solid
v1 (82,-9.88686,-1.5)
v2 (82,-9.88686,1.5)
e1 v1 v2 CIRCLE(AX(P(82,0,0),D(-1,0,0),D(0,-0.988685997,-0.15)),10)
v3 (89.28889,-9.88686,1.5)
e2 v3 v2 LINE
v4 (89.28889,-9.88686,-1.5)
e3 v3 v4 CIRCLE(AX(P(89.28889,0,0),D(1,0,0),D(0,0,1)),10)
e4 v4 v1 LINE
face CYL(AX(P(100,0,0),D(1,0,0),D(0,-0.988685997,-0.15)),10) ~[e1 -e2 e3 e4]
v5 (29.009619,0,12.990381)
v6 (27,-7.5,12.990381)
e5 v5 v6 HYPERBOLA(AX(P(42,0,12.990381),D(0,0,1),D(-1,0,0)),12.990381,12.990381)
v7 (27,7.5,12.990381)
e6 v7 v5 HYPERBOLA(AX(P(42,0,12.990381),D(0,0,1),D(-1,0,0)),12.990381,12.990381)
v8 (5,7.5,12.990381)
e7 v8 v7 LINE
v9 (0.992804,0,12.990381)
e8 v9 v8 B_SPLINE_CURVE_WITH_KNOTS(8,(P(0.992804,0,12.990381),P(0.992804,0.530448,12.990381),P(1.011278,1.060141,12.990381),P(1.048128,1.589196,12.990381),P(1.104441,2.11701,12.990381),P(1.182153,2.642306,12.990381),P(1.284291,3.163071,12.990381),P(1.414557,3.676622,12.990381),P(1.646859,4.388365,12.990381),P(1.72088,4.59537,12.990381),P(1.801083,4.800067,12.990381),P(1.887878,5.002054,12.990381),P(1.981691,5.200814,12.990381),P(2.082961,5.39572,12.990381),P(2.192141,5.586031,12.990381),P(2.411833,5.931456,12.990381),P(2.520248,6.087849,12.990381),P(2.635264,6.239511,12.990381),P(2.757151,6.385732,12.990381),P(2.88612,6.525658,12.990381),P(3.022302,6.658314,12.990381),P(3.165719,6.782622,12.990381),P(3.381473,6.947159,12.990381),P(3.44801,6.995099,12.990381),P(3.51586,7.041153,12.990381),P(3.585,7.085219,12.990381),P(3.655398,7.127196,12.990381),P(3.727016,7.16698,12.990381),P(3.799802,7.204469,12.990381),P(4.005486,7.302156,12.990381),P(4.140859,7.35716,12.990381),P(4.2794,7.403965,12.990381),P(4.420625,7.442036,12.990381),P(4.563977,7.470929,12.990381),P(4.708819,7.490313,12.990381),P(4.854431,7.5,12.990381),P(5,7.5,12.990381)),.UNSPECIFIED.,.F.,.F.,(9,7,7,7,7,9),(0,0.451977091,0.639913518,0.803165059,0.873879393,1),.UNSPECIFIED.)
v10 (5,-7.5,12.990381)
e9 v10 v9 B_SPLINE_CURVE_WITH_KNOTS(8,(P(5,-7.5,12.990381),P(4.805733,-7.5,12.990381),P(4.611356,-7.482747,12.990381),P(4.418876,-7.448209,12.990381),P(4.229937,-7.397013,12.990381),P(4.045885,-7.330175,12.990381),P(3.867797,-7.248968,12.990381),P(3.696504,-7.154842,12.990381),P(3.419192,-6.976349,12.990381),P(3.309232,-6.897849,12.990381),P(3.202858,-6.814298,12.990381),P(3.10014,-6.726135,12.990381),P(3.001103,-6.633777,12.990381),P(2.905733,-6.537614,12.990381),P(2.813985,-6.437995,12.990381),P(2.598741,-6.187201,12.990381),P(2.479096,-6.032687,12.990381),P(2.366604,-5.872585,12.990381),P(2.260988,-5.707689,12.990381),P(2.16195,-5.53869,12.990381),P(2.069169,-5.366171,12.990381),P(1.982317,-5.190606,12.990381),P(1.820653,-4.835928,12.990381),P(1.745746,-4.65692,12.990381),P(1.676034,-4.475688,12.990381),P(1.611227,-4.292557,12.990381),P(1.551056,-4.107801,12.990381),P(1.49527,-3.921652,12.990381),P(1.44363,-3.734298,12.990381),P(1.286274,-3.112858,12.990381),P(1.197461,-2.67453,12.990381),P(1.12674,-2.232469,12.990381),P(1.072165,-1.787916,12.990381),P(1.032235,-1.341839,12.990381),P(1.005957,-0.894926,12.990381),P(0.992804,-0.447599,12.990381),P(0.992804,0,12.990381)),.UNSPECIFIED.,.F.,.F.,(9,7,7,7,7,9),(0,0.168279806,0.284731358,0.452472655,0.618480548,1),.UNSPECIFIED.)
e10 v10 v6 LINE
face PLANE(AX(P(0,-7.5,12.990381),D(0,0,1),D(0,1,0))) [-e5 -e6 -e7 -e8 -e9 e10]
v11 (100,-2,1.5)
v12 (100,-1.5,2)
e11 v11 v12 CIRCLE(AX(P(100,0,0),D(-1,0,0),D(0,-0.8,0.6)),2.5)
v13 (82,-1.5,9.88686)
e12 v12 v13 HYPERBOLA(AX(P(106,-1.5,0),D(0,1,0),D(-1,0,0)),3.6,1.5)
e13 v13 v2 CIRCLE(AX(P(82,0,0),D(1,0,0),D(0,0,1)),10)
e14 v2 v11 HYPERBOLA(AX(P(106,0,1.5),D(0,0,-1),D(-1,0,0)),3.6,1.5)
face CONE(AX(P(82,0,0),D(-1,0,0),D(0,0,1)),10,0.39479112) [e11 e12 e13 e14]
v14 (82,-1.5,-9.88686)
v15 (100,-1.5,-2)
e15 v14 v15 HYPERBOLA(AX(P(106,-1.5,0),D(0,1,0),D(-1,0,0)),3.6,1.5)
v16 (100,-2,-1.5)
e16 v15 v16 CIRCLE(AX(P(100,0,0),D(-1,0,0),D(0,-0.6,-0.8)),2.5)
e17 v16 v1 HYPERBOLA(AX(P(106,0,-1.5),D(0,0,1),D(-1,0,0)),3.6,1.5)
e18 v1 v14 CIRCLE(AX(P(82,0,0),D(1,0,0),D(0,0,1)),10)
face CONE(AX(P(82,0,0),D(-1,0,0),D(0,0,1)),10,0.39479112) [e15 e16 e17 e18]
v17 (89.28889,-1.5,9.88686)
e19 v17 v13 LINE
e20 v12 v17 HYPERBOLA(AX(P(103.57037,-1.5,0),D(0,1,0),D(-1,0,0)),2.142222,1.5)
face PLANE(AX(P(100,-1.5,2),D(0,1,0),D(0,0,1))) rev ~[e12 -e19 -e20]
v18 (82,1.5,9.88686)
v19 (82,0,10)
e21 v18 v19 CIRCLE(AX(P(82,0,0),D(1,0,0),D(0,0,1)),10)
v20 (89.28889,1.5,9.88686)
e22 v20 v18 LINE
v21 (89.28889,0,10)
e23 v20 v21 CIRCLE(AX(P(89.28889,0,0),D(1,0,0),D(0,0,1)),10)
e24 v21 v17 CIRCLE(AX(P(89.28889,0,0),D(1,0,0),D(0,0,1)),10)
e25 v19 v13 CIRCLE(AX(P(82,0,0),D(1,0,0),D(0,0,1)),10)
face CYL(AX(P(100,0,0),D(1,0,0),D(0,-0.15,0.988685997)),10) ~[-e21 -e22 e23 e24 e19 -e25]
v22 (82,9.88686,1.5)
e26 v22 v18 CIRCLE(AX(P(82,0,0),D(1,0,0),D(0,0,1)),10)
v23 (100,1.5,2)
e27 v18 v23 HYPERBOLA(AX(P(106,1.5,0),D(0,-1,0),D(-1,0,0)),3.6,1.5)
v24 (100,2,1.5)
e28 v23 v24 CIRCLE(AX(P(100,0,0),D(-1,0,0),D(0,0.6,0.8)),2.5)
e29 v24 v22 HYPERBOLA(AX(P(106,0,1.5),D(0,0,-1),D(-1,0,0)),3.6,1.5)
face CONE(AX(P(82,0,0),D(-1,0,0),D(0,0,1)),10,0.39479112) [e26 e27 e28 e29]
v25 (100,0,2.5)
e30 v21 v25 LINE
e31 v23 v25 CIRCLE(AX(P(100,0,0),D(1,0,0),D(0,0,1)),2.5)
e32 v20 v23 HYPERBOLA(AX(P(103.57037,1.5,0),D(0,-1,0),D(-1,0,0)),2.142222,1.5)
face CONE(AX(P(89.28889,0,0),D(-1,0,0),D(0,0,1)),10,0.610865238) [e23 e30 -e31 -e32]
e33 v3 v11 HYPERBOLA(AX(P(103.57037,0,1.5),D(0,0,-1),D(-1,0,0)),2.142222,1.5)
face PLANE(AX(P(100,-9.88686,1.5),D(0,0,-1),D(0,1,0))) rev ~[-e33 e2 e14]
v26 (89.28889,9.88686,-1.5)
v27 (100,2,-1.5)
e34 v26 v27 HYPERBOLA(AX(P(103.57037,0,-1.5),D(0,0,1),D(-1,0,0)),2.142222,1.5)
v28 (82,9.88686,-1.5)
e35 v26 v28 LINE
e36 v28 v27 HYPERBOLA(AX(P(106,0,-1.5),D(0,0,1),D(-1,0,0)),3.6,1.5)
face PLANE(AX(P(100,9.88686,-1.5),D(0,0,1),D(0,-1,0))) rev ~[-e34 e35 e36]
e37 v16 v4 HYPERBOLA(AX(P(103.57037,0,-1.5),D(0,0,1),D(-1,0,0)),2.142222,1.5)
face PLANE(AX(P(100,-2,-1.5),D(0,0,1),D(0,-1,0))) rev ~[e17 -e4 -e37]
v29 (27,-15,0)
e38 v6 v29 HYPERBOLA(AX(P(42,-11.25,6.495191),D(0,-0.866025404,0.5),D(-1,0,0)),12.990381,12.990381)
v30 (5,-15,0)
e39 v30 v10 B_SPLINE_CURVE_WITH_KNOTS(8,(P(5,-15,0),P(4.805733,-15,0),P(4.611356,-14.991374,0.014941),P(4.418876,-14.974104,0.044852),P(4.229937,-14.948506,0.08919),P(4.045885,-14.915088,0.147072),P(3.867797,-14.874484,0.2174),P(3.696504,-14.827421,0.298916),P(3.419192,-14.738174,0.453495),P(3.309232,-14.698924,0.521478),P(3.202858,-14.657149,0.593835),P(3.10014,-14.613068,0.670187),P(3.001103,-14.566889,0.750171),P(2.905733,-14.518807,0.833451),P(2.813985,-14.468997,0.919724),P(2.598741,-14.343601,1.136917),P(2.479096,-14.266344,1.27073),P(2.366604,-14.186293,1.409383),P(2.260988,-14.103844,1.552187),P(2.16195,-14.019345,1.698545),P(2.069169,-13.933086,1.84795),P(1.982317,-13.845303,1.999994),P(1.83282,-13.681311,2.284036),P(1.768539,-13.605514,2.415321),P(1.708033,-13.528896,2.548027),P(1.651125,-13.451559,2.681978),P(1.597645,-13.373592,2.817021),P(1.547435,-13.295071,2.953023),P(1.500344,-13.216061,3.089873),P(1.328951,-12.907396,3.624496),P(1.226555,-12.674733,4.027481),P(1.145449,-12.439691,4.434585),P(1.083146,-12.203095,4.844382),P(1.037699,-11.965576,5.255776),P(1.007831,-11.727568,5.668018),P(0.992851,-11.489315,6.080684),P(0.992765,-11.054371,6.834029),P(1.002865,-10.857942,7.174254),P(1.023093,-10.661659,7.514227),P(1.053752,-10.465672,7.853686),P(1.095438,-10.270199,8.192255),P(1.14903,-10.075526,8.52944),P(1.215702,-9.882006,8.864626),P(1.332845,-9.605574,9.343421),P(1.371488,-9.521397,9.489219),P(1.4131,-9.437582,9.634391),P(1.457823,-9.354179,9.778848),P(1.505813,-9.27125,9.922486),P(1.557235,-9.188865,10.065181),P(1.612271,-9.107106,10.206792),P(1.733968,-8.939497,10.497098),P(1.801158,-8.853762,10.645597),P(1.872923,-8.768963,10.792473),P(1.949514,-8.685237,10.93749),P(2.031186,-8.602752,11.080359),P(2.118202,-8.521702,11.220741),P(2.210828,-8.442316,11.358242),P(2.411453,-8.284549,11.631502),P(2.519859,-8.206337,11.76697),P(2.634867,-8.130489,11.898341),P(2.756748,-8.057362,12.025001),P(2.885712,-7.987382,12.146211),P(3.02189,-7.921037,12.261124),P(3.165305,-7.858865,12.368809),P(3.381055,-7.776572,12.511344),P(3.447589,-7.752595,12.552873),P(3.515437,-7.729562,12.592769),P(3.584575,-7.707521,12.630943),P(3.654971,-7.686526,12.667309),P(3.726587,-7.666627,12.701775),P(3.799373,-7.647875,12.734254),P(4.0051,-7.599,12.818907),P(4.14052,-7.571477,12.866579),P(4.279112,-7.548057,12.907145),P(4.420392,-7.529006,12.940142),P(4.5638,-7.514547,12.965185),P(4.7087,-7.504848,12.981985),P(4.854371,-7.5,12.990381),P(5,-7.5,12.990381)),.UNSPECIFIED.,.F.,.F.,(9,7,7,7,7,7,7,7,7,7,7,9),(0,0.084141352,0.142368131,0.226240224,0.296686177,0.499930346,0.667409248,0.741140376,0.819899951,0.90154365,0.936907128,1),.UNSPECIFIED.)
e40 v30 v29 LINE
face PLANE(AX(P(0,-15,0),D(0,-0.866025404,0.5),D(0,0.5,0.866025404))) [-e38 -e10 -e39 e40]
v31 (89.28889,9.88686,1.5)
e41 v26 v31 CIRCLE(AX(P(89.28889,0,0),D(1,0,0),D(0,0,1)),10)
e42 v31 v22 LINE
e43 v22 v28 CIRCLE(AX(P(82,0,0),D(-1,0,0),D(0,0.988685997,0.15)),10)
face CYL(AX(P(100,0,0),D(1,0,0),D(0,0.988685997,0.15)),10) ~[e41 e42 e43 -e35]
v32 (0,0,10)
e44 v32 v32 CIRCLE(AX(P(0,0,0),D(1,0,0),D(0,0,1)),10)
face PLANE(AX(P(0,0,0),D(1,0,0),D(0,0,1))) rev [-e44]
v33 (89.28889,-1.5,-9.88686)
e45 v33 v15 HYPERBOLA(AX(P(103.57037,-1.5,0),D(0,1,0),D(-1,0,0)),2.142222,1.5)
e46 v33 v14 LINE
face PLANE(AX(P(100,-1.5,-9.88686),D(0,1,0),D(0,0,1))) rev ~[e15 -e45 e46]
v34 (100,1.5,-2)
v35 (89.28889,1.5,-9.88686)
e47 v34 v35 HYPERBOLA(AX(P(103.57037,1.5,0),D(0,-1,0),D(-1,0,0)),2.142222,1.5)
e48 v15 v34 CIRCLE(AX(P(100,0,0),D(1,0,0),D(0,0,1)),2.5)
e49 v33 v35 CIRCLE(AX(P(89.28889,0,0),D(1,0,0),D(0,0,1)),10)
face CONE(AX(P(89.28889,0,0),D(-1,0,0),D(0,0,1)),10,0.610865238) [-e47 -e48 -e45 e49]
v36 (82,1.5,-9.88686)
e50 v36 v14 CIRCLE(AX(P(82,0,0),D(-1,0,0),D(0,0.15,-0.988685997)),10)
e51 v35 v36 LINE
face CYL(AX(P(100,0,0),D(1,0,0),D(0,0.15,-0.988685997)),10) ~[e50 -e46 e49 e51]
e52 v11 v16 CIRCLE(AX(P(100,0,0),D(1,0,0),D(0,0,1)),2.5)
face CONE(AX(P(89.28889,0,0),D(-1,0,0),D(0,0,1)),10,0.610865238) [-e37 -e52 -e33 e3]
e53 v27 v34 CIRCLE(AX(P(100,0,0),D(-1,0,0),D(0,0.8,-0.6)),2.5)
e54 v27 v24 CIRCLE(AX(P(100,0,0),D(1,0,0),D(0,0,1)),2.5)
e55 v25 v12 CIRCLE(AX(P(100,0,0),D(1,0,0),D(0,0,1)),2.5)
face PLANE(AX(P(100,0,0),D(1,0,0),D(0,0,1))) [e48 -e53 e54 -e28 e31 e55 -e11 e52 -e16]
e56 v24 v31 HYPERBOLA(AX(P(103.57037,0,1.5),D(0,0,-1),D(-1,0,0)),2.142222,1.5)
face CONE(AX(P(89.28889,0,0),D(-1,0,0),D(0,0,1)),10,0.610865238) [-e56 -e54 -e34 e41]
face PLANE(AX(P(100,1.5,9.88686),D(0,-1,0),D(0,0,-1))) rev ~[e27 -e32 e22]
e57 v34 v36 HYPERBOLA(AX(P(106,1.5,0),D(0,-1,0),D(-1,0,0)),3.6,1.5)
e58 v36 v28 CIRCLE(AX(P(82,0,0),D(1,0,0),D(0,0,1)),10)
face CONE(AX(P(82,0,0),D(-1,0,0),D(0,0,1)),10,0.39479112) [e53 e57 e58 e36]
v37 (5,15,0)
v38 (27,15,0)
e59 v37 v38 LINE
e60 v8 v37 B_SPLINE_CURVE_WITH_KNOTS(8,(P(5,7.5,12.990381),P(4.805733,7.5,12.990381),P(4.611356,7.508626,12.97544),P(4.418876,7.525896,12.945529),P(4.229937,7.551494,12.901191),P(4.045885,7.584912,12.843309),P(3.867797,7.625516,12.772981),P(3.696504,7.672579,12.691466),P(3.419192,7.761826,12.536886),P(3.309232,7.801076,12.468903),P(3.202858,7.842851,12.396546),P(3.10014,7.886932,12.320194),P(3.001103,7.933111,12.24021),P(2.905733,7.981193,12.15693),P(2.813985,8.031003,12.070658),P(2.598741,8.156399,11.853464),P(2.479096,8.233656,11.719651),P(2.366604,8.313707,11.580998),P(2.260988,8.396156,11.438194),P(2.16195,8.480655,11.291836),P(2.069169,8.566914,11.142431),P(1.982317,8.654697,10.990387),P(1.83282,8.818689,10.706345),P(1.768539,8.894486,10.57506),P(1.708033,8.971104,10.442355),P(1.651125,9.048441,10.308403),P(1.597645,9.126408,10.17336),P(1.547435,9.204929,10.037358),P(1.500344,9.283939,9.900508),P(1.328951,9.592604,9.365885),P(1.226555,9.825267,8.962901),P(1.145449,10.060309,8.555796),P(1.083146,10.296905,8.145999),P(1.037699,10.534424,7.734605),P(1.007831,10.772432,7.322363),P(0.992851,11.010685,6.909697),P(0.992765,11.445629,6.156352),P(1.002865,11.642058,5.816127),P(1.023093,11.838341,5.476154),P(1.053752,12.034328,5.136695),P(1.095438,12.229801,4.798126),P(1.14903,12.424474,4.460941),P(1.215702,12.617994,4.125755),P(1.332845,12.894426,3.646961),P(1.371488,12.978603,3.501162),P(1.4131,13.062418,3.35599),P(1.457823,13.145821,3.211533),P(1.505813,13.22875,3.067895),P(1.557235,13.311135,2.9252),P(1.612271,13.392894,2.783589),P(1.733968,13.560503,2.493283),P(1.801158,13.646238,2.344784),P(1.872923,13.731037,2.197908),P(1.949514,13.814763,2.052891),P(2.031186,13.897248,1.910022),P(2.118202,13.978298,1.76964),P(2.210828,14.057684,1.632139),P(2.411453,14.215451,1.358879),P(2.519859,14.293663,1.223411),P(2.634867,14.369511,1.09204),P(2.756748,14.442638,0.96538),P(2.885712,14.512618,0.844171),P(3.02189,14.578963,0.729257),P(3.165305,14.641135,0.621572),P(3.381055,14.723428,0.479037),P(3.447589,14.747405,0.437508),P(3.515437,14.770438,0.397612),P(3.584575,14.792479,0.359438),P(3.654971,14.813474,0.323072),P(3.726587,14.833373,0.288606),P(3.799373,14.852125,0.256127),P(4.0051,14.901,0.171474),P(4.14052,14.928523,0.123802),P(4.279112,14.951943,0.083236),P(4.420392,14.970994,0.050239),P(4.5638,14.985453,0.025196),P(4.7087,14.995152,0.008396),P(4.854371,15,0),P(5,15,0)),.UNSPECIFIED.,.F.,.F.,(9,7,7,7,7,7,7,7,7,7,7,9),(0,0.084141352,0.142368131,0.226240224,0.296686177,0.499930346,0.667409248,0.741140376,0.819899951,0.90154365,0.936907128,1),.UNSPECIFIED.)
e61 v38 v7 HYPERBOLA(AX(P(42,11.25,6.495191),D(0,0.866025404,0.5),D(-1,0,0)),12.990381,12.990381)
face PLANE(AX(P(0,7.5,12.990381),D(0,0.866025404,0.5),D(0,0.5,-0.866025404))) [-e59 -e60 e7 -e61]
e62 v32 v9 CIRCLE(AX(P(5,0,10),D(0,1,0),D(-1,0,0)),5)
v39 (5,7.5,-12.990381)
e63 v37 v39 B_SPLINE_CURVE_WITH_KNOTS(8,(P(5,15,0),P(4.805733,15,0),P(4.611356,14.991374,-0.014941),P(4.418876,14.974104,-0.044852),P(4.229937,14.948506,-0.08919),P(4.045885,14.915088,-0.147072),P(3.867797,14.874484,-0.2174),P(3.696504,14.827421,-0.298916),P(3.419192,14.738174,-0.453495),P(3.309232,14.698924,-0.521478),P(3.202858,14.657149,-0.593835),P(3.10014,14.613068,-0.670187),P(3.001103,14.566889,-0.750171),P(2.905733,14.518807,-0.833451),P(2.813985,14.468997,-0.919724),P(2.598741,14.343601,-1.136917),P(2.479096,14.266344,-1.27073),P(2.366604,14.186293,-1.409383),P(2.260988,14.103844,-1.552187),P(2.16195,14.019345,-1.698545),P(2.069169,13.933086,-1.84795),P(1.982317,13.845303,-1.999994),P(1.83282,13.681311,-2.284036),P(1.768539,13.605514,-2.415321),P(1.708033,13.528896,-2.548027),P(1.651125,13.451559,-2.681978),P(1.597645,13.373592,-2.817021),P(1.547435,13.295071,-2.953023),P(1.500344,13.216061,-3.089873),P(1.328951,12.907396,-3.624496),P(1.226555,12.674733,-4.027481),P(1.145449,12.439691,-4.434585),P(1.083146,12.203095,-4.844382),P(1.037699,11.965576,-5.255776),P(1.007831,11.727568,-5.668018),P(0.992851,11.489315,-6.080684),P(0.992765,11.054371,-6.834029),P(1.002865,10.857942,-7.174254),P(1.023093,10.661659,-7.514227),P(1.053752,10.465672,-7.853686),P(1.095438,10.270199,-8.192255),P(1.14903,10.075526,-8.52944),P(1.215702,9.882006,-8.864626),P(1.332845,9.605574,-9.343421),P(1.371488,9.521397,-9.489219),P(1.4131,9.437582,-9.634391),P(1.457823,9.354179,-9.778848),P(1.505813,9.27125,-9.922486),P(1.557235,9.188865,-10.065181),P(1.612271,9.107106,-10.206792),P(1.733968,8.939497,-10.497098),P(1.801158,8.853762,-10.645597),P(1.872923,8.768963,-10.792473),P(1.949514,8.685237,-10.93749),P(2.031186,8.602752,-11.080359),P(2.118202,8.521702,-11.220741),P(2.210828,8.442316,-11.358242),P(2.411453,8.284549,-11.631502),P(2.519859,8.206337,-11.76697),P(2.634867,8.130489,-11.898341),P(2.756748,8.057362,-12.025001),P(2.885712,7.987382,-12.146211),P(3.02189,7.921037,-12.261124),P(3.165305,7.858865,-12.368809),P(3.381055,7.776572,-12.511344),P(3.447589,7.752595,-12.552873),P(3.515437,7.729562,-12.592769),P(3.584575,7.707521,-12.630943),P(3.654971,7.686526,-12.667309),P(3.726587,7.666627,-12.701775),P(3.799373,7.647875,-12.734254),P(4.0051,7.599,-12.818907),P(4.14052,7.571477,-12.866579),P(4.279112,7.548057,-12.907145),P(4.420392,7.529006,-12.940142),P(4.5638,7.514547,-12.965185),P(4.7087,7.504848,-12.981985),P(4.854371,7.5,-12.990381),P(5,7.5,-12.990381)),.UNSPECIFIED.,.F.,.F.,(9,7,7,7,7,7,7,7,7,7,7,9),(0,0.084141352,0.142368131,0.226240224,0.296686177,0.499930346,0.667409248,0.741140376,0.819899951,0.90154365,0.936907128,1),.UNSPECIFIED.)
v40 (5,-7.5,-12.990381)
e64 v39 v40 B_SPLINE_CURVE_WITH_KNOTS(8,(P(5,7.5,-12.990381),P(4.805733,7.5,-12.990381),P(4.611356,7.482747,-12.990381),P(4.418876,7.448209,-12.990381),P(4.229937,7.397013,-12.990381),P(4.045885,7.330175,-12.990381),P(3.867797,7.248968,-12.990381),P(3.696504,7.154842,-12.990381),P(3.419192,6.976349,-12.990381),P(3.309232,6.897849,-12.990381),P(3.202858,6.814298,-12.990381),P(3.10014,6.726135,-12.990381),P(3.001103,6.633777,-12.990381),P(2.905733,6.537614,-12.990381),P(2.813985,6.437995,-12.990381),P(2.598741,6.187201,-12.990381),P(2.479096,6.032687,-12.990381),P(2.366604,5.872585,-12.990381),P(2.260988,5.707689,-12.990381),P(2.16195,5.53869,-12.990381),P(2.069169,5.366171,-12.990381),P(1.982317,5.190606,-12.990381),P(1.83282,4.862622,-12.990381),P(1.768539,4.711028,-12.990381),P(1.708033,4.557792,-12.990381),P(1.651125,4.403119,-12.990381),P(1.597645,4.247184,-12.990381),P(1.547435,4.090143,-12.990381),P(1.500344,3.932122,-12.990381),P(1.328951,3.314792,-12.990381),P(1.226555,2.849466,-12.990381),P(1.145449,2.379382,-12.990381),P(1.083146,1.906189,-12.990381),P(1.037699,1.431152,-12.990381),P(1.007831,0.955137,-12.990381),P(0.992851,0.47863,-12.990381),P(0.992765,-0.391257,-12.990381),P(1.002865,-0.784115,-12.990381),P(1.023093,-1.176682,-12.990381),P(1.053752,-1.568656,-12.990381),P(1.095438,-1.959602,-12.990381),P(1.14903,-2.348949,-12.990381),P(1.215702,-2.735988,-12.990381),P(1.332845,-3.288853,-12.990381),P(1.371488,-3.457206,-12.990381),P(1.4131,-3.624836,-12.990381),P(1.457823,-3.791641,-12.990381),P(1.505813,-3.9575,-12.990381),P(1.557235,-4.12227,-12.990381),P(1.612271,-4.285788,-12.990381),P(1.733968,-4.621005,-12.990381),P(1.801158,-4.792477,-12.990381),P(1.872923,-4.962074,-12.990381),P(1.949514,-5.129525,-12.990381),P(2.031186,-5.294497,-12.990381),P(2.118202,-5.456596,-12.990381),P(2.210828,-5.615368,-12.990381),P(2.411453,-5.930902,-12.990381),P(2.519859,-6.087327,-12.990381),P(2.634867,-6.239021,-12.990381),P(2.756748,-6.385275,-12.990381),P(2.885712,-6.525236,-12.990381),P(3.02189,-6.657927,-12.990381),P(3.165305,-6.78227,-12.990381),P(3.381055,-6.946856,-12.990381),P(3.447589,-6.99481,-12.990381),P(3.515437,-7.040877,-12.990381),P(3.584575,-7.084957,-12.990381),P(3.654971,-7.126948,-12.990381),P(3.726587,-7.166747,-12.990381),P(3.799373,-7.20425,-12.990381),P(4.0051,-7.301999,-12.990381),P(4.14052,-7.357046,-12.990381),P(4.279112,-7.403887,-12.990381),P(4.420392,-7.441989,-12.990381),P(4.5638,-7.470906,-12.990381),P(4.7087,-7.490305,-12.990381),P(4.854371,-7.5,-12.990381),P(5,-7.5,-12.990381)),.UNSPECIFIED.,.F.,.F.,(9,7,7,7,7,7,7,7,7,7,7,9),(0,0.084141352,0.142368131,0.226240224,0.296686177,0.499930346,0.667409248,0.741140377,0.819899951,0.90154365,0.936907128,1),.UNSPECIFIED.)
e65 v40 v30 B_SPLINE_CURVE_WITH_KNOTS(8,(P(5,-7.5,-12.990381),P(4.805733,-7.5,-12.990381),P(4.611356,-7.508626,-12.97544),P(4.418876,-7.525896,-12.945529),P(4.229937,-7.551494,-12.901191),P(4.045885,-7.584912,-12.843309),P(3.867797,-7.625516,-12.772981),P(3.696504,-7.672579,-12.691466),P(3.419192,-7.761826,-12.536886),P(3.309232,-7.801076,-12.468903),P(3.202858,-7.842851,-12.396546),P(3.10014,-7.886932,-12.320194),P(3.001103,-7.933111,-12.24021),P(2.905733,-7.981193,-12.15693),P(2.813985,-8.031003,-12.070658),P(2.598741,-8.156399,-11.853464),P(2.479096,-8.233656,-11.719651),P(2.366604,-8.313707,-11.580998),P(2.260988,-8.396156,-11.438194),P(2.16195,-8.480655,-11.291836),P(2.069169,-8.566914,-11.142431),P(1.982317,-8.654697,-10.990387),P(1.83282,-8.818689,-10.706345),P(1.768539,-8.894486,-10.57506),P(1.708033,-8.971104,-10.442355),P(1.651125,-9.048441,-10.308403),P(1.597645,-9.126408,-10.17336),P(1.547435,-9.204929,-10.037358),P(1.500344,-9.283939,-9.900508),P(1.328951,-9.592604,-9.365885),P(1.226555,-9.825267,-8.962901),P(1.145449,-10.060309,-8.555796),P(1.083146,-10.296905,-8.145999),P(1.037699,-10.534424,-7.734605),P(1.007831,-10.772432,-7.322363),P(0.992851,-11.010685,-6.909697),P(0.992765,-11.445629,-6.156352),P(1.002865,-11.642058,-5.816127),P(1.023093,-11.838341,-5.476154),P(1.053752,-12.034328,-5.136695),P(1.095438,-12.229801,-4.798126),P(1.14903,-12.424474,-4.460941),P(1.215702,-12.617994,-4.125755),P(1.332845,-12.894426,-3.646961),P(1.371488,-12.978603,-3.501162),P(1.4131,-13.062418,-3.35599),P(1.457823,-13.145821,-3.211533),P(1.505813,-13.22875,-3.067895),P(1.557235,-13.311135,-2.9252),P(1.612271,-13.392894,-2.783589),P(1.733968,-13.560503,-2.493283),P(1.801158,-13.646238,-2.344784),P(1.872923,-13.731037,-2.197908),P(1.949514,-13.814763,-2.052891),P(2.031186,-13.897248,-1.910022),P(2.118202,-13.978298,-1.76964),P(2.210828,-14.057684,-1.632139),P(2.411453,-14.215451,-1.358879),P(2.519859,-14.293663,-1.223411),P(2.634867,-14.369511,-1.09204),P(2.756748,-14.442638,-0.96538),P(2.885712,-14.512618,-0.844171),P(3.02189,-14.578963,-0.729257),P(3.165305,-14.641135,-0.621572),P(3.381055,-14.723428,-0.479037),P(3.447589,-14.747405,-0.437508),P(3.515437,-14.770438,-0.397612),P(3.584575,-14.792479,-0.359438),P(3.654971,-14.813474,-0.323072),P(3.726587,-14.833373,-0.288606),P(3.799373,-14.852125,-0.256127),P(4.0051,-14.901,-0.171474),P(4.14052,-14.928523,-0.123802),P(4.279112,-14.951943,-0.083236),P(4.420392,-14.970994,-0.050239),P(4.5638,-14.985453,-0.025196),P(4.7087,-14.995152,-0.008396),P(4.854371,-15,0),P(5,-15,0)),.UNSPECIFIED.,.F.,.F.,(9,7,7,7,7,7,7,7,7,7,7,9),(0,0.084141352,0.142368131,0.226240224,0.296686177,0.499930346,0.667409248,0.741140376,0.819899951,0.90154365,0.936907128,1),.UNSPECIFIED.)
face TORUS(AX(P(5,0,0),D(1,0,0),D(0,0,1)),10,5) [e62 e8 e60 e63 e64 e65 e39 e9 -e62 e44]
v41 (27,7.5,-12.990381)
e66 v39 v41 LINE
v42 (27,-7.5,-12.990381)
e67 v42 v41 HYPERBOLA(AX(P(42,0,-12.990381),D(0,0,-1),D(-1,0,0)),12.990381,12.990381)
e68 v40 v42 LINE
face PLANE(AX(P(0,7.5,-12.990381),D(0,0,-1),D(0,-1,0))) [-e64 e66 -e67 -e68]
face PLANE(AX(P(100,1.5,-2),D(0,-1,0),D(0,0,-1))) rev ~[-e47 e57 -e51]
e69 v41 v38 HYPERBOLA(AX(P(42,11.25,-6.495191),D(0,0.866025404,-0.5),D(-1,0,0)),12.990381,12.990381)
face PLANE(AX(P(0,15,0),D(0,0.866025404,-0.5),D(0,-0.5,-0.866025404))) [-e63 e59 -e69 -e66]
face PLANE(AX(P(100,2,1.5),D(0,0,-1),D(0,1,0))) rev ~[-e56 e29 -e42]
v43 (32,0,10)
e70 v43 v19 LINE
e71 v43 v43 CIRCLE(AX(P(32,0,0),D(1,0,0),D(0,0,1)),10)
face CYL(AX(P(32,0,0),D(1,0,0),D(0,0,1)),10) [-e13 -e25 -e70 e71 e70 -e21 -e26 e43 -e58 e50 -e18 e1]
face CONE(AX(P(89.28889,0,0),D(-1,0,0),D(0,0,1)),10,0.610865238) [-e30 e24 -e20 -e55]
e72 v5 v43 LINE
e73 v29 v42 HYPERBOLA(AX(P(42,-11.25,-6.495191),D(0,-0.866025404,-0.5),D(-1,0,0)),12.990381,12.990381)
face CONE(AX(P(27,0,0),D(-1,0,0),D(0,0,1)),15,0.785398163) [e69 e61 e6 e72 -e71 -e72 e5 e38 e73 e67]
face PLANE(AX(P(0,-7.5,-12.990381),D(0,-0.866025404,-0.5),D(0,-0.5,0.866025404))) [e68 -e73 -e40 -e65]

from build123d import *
from build123d.topology import SkipClean

# Parameters (mm, degrees)
SKETCH2_OUTSIDE_W   = 53.726
SKETCH2_OUTSIDE_H   = 53.726
CUT_EXTRUDE2_DEPTH  = 100
BOSS_EXTRUDE1_DEPTH = 18


with BuildPart() as part:
    # Sketch1 → Revolve1 (revolve)
    with BuildSketch(Plane(origin=(0, 0, 0), x_dir=(1, 0, 0), z_dir=(0, 0, -1)), mode=Mode.PRIVATE) as revolve1_sk:
        with BuildLine():
            Line((0, 0), (0, 10))
            ThreePointArc((0, 10), (1.464466094, 13.535533906), (5, 15))
            Line((5, 15), (27, 15))
            Line((27, 15), (32, 10))
            Line((32, 10), (82, 10))
            Line((82, 10), (100, 2.5))
            Line((100, 2.5), (100, 0))
            Line((100, 0), (0, 0))
        make_face()
    revolve(revolve1_sk.sketch.rotate(Axis((-28.136645963, 0, 0), (1, 0, 0)), 270), axis=Axis((-28.136645963, 0, 0), (1, 0, 0)))  # turned: the seam where the file's is

    # Sketch2 outside → Cut-Extrude2 (cut)
    with BuildSketch(Plane.ZY):
        Rectangle(SKETCH2_OUTSIDE_W, SKETCH2_OUTSIDE_H)
        Polygon((12.990381057, -7.5), (12.990381057, 7.5), (0, 15), (-12.990381057, 7.5), (-12.990381057, -7.5), (0, -15), align=None, mode=Mode.SUBTRACT)
    extrude(amount=-CUT_EXTRUDE2_DEPTH, mode=Mode.SUBTRACT)

    # Sketch5 → Boss-Extrude1 (add)
    with SkipClean():  # keep this step's faces unmerged: merging them makes the solid invalid here
        with BuildSketch(Plane(origin=(100, 0, 0), x_dir=(0, 0, -1), z_dir=(1, 0, 0))):
            with BuildLine():
                Line((-1.5, 2), (-1.5, 9.886859967))
                ThreePointArc((-1.5, 9.886859967), (0, 10), (1.5, 9.886859967))
                Line((1.5, 9.886859967), (1.5, 2))
                ThreePointArc((1.5, 2), (1.767766953, 1.767766953), (2, 1.5))
                Line((2, 1.5), (9.886859967, 1.5))
                ThreePointArc((9.886859967, 1.5), (10, 0), (9.886859967, -1.5))
                Line((9.886859967, -1.5), (2, -1.5))
                ThreePointArc((2, -1.5), (1.767766953, -1.767766953), (1.5, -2))
                Line((1.5, -2), (1.5, -9.886859967))
                ThreePointArc((1.5, -9.886859967), (0, -10), (-1.5, -9.886859967))
                Line((-1.5, -9.886859967), (-1.5, -2))
                ThreePointArc((-1.5, -2), (-1.767766953, -1.767766953), (-2, -1.5))
                Line((-2, -1.5), (-9.886859967, -1.5))
                ThreePointArc((-9.886859967, -1.5), (-10, 0), (-9.886859967, 1.5))
                Line((-9.886859967, 1.5), (-2, 1.5))
                ThreePointArc((-2, 1.5), (-1.767766953, 1.767766953), (-1.5, 2))
            make_face()
        extrude(amount=-BOSS_EXTRUDE1_DEPTH)

    # Sketch6 → Cut-Revolve1 (revolve, cut)
    with SkipClean():  # keep this step's faces unmerged: merging them makes the solid invalid here
        with BuildSketch(Plane.XY, mode=Mode.PRIVATE) as cut_revolve1_sk:
            Polygon((100, 2.5), (100, 10), (89.288889949, 10), align=None)
        revolve(cut_revolve1_sk.sketch.rotate(Axis((100, 0, 0), (1, 0, 0)), 90), axis=Axis((100, 0, 0), (1, 0, 0)), mode=Mode.SUBTRACT)  # turned: the seam where the file's is


solid = part.part
